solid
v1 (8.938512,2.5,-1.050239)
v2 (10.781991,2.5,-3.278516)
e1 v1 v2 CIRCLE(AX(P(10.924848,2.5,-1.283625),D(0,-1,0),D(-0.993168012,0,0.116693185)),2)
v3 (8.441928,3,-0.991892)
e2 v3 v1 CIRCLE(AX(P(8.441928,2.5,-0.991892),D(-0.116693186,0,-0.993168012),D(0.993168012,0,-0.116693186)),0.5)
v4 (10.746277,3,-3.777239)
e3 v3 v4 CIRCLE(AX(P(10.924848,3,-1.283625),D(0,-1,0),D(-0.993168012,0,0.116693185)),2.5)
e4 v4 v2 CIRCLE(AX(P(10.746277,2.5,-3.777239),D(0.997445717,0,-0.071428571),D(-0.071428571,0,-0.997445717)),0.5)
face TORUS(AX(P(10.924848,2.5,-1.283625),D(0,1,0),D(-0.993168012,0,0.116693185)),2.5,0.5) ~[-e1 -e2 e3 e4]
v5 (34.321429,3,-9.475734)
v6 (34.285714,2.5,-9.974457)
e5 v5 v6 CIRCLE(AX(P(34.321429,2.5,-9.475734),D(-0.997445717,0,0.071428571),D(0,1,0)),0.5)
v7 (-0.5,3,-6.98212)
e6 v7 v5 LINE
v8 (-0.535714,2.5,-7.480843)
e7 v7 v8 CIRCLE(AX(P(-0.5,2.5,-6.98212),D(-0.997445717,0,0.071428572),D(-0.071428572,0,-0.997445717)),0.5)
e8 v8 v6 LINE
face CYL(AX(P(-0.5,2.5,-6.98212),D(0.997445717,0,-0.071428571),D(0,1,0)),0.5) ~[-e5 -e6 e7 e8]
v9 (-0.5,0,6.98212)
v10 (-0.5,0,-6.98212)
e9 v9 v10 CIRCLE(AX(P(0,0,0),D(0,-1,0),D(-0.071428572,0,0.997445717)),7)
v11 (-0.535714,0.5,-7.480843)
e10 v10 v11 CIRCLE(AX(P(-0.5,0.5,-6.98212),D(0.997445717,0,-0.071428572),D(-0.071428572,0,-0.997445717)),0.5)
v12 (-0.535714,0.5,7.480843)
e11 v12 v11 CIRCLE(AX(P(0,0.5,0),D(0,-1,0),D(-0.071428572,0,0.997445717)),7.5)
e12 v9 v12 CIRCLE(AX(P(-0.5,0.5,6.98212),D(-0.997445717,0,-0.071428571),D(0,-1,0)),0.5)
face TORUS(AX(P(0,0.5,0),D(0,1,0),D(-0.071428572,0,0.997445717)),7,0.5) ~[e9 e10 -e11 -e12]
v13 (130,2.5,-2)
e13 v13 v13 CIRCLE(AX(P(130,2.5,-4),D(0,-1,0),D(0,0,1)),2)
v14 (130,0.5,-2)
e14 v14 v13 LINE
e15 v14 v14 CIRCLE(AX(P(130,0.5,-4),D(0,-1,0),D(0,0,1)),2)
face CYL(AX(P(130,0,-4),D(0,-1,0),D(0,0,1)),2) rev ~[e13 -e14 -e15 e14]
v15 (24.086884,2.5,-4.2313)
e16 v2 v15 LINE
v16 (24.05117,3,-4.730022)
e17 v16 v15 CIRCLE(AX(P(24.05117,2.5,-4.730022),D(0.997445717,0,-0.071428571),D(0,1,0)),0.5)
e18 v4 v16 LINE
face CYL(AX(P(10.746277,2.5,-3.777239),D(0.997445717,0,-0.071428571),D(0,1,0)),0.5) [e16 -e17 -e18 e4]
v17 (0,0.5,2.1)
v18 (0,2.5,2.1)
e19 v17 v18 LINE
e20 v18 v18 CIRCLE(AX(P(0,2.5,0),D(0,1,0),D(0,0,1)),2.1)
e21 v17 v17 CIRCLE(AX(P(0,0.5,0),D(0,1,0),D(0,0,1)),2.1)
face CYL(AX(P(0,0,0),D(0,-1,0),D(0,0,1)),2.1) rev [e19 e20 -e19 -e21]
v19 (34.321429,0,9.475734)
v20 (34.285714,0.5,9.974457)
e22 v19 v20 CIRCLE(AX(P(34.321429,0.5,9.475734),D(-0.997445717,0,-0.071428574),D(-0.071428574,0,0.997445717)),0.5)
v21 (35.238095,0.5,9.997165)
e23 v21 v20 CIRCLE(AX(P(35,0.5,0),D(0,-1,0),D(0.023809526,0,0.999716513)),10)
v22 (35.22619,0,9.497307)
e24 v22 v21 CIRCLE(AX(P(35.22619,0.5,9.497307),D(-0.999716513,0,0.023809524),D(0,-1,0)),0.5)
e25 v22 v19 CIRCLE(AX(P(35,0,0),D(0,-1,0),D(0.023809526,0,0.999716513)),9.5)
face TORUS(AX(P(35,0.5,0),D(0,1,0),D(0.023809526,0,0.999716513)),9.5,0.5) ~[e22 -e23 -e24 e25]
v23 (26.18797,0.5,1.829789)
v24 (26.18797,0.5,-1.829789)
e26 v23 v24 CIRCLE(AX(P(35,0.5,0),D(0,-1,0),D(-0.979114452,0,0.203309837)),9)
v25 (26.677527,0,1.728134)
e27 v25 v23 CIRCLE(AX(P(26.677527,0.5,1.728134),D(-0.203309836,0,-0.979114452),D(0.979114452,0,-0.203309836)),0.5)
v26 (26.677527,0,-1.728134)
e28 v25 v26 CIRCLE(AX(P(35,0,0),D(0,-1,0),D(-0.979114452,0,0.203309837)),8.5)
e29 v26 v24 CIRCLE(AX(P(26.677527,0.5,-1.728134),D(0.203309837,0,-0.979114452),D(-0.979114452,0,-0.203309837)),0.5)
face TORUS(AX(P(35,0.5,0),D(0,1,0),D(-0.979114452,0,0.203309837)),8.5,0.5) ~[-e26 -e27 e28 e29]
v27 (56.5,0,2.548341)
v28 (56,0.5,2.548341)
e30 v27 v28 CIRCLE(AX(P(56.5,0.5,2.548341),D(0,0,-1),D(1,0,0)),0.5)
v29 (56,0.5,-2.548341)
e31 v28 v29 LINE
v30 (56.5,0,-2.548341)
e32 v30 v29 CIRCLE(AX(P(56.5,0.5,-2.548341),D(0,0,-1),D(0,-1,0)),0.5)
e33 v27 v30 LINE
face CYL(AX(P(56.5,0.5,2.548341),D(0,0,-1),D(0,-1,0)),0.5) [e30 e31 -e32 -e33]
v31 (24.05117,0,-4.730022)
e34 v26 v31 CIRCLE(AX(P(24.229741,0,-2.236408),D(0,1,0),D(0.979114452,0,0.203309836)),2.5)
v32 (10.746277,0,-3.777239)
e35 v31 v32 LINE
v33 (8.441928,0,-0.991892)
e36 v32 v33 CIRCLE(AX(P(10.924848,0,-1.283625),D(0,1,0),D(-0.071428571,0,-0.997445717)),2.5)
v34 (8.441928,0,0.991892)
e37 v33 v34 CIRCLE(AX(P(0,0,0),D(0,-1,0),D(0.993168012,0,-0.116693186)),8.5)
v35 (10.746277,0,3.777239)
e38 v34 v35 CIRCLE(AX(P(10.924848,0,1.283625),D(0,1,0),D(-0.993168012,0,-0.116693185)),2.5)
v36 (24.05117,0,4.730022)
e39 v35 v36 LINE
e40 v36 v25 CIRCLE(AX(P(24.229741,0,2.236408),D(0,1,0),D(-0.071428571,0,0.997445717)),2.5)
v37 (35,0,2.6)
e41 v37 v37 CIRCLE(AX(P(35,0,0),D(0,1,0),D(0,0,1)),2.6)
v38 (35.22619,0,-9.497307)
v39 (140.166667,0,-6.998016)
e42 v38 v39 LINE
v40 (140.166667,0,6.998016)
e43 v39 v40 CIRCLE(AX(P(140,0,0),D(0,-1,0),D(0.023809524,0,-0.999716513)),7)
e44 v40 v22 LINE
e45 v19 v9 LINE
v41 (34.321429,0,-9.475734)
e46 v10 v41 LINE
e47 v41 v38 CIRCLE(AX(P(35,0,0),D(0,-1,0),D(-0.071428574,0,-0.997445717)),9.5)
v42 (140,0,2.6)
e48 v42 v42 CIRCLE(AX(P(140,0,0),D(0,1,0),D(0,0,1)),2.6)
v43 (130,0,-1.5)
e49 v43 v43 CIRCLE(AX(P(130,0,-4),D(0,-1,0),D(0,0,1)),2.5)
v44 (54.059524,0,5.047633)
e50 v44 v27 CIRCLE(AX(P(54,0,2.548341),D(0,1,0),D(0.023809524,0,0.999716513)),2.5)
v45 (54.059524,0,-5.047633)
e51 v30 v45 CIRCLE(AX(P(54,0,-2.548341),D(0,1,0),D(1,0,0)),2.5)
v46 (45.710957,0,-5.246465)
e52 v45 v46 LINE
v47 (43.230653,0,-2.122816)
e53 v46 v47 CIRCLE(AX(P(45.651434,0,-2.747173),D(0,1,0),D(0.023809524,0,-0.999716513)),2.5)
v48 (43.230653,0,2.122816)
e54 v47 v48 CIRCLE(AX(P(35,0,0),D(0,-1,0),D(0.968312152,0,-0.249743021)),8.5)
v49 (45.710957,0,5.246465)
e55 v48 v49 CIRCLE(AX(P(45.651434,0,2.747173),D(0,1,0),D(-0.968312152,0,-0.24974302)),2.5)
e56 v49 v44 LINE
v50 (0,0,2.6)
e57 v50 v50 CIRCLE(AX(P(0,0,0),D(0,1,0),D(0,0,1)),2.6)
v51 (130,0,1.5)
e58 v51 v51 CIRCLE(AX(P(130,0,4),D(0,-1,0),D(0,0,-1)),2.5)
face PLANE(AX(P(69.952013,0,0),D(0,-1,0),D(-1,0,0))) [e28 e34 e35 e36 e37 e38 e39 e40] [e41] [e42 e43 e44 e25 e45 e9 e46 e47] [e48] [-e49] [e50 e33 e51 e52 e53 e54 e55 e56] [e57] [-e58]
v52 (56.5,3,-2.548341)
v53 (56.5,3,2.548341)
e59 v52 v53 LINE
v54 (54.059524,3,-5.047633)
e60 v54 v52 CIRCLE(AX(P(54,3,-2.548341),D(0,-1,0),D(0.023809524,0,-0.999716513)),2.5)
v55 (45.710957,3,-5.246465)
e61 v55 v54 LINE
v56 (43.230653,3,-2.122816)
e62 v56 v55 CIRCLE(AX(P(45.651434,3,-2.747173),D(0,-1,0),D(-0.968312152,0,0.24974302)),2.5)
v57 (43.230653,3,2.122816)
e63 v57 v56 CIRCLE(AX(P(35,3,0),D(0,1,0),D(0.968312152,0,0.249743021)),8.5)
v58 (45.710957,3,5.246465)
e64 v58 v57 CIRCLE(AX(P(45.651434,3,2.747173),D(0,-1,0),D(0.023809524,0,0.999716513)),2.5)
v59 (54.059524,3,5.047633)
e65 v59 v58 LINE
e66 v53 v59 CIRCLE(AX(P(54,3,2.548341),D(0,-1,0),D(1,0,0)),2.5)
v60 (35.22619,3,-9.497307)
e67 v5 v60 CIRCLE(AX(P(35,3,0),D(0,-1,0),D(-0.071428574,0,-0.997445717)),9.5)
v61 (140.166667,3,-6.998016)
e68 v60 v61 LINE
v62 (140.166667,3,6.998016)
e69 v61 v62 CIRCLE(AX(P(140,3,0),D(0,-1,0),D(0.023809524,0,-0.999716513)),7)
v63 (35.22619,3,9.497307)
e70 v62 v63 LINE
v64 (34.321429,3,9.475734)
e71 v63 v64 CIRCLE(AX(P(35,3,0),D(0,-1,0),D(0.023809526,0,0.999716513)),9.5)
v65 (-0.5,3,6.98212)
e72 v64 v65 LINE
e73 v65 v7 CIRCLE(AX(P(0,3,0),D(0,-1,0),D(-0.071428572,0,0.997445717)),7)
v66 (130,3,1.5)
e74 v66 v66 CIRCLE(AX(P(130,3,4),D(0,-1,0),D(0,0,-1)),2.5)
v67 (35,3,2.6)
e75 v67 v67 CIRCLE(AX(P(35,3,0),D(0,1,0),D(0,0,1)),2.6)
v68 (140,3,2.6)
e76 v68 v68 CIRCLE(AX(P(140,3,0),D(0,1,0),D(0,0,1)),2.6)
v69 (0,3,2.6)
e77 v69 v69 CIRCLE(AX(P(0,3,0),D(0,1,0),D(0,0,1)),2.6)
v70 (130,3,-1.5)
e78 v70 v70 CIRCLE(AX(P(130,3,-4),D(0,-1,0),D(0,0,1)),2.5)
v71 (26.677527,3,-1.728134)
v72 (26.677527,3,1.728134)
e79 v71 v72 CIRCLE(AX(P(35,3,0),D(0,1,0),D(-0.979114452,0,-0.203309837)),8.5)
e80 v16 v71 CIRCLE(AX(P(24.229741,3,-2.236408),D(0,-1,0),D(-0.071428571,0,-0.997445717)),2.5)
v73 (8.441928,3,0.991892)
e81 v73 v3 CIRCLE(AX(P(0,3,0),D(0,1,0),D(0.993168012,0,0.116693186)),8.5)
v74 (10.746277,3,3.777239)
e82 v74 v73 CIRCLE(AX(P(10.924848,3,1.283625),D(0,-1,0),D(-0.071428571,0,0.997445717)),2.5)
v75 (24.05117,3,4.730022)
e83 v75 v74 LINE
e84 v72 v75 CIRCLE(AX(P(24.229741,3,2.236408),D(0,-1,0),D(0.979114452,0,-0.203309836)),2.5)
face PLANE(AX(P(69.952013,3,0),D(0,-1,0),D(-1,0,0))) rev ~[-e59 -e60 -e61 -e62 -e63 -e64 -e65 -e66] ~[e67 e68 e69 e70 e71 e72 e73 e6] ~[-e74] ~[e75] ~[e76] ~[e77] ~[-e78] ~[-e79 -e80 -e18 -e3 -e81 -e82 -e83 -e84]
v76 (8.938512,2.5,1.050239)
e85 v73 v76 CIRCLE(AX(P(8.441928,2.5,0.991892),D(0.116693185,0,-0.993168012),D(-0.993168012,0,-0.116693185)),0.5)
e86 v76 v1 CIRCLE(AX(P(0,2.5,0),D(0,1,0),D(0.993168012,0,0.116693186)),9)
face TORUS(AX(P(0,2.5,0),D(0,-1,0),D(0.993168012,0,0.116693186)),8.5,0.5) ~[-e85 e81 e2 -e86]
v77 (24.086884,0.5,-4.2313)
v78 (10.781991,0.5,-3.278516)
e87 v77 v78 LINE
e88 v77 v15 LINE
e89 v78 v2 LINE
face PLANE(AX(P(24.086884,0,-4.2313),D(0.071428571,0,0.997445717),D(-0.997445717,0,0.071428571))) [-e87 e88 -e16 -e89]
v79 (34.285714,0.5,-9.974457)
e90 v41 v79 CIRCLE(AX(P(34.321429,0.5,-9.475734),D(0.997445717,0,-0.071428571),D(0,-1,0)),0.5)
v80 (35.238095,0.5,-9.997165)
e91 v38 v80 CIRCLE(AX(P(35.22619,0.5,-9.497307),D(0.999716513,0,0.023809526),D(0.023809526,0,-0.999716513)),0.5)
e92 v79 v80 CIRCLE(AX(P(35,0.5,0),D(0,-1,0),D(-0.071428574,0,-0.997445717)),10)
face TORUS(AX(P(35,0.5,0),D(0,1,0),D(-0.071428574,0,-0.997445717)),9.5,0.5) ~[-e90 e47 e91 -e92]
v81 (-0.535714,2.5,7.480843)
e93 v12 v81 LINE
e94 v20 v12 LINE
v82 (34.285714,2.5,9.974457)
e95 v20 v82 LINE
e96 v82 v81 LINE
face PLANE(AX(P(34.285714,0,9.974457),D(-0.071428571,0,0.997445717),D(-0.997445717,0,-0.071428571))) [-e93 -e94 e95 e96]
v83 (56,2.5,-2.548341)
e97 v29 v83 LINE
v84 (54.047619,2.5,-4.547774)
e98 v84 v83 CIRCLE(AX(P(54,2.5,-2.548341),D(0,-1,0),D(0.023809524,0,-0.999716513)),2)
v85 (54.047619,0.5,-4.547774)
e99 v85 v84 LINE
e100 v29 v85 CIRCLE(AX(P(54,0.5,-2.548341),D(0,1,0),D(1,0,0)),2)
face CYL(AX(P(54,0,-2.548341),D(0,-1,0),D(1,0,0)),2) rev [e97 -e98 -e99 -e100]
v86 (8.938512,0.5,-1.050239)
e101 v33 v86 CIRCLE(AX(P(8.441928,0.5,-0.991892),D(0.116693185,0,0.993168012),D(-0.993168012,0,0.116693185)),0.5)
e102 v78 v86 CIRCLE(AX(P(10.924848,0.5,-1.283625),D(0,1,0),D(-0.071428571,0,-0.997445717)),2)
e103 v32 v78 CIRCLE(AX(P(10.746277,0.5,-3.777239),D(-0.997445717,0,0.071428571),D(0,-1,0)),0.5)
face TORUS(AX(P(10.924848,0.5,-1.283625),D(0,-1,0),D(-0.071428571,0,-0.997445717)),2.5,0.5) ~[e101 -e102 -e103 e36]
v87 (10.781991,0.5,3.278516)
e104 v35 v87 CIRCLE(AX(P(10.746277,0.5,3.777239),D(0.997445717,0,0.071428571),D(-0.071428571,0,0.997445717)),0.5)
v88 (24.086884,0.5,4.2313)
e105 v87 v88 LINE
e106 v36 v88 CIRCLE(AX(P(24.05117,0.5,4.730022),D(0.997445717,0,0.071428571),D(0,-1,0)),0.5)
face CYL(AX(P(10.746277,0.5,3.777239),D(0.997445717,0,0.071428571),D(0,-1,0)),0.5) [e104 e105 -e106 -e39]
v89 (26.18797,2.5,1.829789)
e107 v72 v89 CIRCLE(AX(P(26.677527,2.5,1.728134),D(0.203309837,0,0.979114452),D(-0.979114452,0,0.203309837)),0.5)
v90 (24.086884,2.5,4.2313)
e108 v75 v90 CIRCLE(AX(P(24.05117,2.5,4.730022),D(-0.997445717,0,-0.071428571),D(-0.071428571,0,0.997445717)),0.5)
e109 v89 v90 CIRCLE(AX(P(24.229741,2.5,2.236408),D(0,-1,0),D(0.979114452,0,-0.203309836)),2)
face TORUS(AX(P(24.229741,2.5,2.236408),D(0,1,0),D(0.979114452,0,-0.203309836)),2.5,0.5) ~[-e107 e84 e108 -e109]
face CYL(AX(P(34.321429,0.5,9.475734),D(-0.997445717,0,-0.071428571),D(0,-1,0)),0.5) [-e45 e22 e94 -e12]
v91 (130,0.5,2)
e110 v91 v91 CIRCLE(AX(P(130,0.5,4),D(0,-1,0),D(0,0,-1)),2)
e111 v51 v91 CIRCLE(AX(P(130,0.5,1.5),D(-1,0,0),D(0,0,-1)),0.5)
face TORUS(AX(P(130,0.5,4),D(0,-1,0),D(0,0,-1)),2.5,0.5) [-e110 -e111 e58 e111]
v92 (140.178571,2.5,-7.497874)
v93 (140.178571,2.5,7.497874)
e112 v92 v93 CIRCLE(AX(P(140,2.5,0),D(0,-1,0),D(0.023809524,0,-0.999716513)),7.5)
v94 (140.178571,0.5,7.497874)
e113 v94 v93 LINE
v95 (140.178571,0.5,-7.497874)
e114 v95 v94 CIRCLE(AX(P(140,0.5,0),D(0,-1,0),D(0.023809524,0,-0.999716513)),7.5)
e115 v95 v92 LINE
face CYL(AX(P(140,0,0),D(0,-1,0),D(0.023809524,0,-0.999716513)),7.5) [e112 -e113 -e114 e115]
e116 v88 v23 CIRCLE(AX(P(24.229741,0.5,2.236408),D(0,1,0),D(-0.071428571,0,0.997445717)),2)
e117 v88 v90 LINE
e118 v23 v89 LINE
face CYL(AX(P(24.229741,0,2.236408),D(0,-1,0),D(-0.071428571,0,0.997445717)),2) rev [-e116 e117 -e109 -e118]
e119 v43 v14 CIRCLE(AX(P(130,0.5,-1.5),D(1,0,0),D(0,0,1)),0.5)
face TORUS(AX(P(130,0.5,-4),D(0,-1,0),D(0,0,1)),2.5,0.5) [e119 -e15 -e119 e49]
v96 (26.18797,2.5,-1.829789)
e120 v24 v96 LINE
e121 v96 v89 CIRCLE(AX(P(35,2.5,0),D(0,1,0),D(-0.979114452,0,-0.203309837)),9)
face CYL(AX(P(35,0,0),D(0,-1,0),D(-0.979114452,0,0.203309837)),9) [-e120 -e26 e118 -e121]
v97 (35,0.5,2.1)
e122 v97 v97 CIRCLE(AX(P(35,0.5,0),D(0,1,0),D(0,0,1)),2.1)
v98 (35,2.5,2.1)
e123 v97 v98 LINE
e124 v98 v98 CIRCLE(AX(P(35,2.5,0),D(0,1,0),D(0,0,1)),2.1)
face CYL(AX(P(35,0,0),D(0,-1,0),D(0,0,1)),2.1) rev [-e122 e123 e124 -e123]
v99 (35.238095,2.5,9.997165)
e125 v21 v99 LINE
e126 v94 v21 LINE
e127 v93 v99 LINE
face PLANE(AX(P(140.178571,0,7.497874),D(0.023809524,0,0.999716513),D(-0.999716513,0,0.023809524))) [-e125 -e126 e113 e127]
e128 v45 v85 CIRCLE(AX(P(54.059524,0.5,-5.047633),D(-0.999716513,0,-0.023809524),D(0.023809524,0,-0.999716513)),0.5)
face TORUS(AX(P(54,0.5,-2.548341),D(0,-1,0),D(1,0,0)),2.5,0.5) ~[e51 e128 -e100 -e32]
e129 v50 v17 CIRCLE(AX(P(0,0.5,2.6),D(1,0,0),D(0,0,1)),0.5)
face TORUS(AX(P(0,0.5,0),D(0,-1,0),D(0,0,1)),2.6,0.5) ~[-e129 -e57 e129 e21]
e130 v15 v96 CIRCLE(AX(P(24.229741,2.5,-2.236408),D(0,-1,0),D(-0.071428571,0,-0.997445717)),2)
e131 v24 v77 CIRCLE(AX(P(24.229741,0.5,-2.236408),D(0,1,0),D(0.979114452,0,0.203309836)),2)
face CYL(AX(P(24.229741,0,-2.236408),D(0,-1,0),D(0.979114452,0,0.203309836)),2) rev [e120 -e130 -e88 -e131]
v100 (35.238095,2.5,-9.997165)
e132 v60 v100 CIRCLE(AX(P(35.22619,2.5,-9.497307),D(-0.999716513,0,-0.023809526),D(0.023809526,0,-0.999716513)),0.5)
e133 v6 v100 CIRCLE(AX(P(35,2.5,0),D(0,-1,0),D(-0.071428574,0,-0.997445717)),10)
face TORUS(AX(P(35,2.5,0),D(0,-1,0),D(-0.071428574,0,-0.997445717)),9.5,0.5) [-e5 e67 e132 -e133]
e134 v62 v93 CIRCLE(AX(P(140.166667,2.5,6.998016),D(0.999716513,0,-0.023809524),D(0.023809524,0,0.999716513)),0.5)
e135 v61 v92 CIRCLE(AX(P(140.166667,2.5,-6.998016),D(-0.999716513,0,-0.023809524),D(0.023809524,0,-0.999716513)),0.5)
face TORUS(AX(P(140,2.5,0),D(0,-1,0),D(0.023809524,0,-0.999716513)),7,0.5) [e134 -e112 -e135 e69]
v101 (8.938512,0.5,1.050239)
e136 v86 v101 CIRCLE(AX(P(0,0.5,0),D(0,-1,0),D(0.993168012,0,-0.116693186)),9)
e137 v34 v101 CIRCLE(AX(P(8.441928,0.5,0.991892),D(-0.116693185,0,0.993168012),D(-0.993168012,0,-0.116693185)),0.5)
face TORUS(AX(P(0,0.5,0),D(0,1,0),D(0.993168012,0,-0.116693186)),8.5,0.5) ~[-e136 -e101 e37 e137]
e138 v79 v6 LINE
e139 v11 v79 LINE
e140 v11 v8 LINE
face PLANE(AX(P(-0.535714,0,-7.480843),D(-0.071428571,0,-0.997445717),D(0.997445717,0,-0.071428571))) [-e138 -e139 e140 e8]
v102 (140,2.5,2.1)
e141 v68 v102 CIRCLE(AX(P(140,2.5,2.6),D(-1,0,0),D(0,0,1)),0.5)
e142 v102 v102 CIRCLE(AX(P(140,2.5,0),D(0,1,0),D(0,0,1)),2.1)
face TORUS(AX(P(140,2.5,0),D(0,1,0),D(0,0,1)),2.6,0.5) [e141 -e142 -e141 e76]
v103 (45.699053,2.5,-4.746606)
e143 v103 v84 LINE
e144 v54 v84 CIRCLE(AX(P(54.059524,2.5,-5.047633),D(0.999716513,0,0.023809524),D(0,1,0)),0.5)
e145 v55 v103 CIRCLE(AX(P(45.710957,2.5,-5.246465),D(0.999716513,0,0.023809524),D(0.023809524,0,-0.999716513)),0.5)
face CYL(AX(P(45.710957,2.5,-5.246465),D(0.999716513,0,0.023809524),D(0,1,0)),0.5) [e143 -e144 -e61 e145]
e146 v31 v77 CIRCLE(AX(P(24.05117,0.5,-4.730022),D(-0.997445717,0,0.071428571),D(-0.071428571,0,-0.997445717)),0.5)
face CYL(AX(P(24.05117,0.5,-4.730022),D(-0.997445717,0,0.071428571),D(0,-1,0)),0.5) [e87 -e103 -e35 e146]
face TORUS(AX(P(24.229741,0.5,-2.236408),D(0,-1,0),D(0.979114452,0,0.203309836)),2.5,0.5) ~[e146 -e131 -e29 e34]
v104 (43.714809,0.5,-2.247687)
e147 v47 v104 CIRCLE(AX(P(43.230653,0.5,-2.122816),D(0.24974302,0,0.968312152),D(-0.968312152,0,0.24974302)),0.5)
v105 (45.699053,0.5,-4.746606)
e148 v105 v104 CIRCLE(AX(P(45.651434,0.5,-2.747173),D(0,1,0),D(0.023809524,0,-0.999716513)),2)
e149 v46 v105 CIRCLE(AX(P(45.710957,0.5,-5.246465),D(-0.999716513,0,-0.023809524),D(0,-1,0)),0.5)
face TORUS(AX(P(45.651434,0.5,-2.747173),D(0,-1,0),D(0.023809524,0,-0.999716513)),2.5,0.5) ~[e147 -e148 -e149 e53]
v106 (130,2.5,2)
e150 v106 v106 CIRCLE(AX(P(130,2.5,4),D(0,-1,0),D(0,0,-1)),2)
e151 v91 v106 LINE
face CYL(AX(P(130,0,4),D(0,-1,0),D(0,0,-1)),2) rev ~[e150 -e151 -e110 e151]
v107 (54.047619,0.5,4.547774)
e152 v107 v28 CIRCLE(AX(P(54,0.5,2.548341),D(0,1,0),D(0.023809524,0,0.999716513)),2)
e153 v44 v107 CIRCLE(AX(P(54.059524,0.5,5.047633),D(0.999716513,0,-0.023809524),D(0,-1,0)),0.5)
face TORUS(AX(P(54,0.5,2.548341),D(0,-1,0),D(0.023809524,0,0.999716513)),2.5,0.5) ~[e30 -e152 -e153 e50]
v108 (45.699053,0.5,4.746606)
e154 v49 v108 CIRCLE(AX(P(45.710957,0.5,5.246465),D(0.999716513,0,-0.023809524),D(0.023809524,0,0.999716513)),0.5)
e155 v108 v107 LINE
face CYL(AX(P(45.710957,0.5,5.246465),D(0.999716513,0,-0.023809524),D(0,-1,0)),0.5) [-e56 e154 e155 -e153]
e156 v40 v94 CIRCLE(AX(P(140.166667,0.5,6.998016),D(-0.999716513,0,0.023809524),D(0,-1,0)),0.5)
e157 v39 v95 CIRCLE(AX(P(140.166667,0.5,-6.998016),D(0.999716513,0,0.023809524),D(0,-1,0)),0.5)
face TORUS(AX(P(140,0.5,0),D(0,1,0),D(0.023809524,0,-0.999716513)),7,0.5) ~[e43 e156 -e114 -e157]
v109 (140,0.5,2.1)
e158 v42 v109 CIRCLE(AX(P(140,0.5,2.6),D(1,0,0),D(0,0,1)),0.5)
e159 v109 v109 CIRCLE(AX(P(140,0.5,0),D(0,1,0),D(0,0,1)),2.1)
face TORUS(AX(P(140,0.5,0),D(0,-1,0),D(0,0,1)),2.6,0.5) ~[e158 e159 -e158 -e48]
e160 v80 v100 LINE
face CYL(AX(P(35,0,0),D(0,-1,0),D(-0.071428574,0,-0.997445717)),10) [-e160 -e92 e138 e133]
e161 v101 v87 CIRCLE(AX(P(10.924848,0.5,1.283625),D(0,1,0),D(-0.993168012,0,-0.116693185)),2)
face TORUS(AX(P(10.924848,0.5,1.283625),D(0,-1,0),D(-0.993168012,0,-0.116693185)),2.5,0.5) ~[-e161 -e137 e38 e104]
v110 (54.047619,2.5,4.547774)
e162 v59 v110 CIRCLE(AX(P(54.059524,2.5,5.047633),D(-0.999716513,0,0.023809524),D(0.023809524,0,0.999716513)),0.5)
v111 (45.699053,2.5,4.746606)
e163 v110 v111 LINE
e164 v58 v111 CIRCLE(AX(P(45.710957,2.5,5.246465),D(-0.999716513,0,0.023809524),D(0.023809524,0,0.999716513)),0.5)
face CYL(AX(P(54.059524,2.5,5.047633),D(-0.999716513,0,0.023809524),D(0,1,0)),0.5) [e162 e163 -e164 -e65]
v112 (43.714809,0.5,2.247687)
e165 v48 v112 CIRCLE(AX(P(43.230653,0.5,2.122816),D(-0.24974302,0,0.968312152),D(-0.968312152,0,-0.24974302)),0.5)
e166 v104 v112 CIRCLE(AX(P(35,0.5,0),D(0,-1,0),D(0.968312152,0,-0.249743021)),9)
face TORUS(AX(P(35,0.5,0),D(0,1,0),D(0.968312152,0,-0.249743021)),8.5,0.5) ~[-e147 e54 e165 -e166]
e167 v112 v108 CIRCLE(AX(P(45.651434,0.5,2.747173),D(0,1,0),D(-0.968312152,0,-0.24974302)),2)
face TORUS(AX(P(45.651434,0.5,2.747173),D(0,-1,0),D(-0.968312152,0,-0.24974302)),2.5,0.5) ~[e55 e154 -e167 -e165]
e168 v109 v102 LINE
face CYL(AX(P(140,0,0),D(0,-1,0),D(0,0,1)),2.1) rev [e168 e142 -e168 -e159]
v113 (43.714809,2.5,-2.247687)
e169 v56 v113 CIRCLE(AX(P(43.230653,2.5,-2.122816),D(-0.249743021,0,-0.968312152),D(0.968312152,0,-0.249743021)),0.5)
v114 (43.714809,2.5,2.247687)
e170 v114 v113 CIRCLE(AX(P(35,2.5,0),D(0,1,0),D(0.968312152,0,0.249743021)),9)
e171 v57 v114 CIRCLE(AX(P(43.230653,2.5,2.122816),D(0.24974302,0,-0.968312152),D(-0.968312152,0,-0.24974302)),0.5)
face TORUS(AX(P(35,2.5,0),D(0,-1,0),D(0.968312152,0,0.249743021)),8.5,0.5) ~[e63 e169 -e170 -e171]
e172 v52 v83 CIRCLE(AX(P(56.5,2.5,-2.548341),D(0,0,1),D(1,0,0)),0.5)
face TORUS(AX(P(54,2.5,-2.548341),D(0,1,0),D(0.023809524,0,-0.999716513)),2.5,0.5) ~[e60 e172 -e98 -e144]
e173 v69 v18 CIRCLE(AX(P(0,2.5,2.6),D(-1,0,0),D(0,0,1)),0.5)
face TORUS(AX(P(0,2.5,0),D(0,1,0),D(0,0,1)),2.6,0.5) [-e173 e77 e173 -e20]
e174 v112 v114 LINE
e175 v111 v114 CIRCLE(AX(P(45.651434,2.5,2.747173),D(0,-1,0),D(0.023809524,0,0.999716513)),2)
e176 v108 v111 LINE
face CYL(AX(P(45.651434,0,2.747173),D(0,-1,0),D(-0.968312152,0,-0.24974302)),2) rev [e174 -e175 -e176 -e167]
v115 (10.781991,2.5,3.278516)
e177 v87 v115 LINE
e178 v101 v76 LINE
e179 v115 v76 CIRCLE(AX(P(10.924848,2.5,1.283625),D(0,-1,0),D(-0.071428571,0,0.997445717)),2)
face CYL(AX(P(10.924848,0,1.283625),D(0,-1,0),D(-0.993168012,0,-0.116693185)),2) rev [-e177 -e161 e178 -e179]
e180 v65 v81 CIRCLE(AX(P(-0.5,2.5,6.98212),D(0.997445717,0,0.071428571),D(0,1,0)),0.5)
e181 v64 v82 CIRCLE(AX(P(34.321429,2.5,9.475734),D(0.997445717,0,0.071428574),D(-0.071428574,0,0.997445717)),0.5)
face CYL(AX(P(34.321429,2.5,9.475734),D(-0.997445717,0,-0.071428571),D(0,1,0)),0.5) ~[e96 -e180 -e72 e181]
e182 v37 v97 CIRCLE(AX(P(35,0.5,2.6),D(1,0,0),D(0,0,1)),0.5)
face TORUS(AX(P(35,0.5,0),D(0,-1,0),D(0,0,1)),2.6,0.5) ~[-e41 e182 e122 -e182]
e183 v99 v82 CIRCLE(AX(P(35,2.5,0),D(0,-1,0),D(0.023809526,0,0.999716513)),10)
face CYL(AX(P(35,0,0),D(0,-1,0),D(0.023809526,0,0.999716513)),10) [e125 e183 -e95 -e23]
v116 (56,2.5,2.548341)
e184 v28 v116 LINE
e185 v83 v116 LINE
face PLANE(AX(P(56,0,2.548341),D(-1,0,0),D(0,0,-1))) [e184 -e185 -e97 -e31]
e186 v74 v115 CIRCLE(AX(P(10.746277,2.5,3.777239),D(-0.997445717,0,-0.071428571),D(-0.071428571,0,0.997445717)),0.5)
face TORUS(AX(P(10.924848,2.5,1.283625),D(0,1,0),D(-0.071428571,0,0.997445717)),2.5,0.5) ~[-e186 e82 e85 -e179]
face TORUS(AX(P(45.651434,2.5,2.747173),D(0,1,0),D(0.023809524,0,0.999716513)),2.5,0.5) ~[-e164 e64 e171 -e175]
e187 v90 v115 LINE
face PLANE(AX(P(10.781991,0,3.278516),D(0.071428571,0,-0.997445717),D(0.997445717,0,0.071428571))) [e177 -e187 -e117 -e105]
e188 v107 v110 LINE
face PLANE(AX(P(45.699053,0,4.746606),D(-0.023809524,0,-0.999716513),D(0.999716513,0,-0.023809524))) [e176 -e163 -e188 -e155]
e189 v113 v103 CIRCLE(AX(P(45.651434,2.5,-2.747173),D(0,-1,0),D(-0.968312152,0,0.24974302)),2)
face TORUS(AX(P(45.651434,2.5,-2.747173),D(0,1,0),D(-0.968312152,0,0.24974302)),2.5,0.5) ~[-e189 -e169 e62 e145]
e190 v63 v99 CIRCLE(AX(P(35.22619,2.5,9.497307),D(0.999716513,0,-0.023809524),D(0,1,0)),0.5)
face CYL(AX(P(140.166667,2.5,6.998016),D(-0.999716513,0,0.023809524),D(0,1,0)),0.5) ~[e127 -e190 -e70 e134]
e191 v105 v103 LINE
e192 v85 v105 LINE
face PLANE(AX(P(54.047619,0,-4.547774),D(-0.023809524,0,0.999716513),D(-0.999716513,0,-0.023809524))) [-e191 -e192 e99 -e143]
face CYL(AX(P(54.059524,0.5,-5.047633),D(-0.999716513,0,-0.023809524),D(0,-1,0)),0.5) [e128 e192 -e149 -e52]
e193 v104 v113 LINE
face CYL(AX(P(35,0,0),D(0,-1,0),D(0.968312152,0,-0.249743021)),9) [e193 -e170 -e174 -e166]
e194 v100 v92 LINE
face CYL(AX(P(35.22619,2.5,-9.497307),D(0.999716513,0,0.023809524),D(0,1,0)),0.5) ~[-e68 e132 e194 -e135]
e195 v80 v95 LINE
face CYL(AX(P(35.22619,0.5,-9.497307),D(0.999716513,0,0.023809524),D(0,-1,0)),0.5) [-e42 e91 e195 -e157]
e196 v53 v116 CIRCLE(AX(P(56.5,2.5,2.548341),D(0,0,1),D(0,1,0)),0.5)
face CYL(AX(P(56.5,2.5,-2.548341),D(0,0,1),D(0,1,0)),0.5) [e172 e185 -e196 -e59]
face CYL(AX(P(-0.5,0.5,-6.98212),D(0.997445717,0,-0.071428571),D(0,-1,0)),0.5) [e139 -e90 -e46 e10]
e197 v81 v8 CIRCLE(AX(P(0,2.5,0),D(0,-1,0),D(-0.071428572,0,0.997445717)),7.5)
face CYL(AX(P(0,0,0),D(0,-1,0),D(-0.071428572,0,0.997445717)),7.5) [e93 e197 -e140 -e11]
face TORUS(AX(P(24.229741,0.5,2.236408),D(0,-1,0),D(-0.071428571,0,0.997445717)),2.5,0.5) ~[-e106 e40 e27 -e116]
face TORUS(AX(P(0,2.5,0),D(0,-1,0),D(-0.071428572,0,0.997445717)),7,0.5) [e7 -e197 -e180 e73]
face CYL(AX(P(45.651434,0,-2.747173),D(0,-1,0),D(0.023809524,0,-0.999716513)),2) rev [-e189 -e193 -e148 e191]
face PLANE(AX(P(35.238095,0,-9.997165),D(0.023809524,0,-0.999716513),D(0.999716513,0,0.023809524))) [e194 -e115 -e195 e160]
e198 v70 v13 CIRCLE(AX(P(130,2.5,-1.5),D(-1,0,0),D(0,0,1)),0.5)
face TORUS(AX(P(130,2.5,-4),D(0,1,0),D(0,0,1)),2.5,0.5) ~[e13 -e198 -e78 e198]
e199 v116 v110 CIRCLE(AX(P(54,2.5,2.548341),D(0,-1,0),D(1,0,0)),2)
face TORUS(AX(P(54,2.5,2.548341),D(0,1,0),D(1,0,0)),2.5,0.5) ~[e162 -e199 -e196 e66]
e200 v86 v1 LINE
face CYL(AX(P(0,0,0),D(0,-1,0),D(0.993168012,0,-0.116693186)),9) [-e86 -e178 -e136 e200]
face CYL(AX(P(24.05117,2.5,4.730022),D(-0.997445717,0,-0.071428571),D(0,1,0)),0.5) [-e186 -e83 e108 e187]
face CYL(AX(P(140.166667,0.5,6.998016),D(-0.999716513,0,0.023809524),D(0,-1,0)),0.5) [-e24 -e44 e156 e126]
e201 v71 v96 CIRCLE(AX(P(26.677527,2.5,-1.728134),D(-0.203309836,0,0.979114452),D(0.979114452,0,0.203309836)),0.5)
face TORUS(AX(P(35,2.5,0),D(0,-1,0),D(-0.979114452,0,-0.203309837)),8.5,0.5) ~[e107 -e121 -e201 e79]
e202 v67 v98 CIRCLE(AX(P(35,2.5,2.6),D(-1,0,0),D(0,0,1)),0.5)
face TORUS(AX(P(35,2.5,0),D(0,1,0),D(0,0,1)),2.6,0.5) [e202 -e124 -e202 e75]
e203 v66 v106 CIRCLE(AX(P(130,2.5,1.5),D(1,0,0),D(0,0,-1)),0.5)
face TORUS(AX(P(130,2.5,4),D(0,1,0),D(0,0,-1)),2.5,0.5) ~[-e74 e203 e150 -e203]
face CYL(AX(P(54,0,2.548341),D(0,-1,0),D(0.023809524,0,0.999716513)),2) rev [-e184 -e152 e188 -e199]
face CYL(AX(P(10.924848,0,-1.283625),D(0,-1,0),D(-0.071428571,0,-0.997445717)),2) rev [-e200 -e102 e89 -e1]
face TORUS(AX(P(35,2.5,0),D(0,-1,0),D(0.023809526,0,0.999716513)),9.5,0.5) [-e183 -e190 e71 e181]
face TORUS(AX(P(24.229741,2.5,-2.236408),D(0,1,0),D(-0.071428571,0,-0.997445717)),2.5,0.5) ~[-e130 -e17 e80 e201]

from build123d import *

# Parameters (mm, degrees)
SKETCH1_R           = 2.1
BOSS_EXTRUDE1_DEPTH = 3
CUT_EXTRUDE1_DEPTH  = 6
SKETCH5_R           = 2
CUT_EXTRUDE2_DEPTH  = 148.869029888
FILLET1_R           = 0.5


with BuildPart() as part:
    # Sketch1 → Boss-Extrude1 (new body)
    with BuildSketch(Plane(origin=(0, 0, 0), x_dir=(1, 0, 0), z_dir=(0, 1, 0))):
        with BuildLine():
            Line((-0.535714286, 7.480842881), (34.285714286, 9.974457174))
            ThreePointArc((34.285714286, 9.974457174), (34.761634199, 9.997158684), (35.238095238, 9.997165131))
            Line((35.238095238, 9.997165131), (140.178571429, 7.497873848))
            ThreePointArc((140.178571429, 7.497873848), (147.5, 0), (140.178571429, -7.497873848))
            Line((140.178571429, -7.497873848), (35.238095238, -9.997165131))
            ThreePointArc((35.238095238, -9.997165131), (34.761634199, -9.997158684), (34.285714286, -9.974457174))
            Line((34.285714286, -9.974457174), (-0.535714286, -7.480842881))
            ThreePointArc((-0.535714286, -7.480842881), (-7.5, 0), (-0.535714286, 7.480842881))
        make_face()
        with Locations(Location((0, 0, 0), (0, 0, 270))):
            Circle(SKETCH1_R, mode=Mode.SUBTRACT)
        with Locations(Location((35, 0, 0), (0, 0, 270))):
            Circle(SKETCH1_R, mode=Mode.SUBTRACT)
        with Locations(Location((140, 0, 0), (0, 0, 270))):
            Circle(SKETCH1_R, mode=Mode.SUBTRACT)
    extrude(amount=BOSS_EXTRUDE1_DEPTH)

    # Sketch3 → Cut-Extrude1 (cut)
    with BuildSketch(Plane.XZ):
        with BuildLine():
            Line((10.781990992, 3.278516471), (24.086883885, 4.231299641))
            ThreePointArc((24.086883885, 4.231299641), (25.734967774, 3.55333358), (26.187969932, 1.829788532))
            ThreePointArc((26.187969932, 1.829788532), (26, 0), (26.187969932, -1.829788532))
            ThreePointArc((26.187969932, -1.829788532), (25.734967774, -3.55333358), (24.086883885, -4.231299641))
            Line((24.086883885, -4.231299641), (10.781990992, -3.278516471))
            ThreePointArc((10.781990992, -3.278516471), (9.383851256, -2.558508804), (8.93851211, -1.050238666))
            ThreePointArc((8.93851211, -1.050238666), (9, 0), (8.93851211, 1.050238666))
            ThreePointArc((8.93851211, 1.050238666), (9.383851256, 2.558508804), (10.781990992, 3.278516471))
        make_face()
        with BuildLine():
            Line((45.69905272, 4.74660625), (54.047619048, 4.547774495))
            ThreePointArc((54.047619048, 4.547774495), (55.4309504, 3.945617731), (56, 2.548341469))
            Line((56, 2.548341469), (56, -2.548341469))
            ThreePointArc((56, -2.548341469), (55.4309504, -3.945617731), (54.047619048, -4.547774495))
            Line((54.047619048, -4.547774495), (45.69905272, -4.74660625))
            ThreePointArc((45.69905272, -4.74660625), (44.085153257, -3.990863563), (43.714809368, -2.247687183))
            ThreePointArc((43.714809368, -2.247687183), (44, 0), (43.714809368, 2.247687183))
            ThreePointArc((43.714809368, 2.247687183), (44.085153257, 3.990863563), (45.69905272, 4.74660625))
        make_face()
    extrude(amount=-CUT_EXTRUDE1_DEPTH, mode=Mode.SUBTRACT)

    # Sketch5 → Cut-Extrude2 (cut, through all)
    with BuildSketch(Plane.XZ):
        with Locations(Location((130, 4, 0), (0, 0, 270))):
            Circle(SKETCH5_R)
        with Locations(Location((130, -4, 0), (0, 0, 90))):
            Circle(SKETCH5_R)
    extrude(amount=-CUT_EXTRUDE2_DEPTH, mode=Mode.SUBTRACT)

    # Fillet1
    fillet1_edges = [part.edges().sort_by_distance(p)[0] for p in [
        (147.5, 3, 0),
        (87.708333333, 0, 8.74751949),
        (34.761634199, 0, 9.997158684),
        (130, 3, 6),
        (130, 0, 6),
        (130, 3, -6),
        (130, 0, -6),
        (87.708333333, 3, -8.74751949),
        (34.761634199, 3, -9.997158684),
        (16.875, 3, -8.727650027),
        (0, 0, -2.1),
        (0, 3, -2.1),
        (-7.5, 3, 0),
        (35, 0, -2.1),
        (35, 3, -2.1),
        (16.875, 3, 8.727650027),
        (140, 0, -2.1),
        (140, 3, -2.1),
        (34.761634199, 3, 9.997158684),
        (9.383851256, 3, 2.558508804),
        (17.434437438, 3, 3.754908056),
        (25.734967774, 3, 3.55333358),
        (26, 3, 0),
        (25.734967774, 3, -3.55333358),
        (17.434437438, 3, -3.754908056),
        (9.383851256, 3, -2.558508804),
        (9, 3, 0),
        (9.383851256, 0, 2.558508804),
        (9, 0, 0),
        (9.383851256, 0, -2.558508804),
        (17.434437438, 0, -3.754908056),
        (25.734967774, 0, -3.55333358),
        (26, 0, 0),
        (25.734967774, 0, 3.55333358),
        (17.434437438, 0, 3.754908056),
        (87.708333333, 3, 8.74751949),
        (44.085153257, 3, 3.990863563),
        (49.873335884, 3, 4.647190373),
        (55.4309504, 3, 3.945617731),
        (56, 3, 0),
        (55.4309504, 3, -3.945617731),
        (16.875, 0, 8.727650027),
        (49.873335884, 3, -4.647190373),
        (44.085153257, 3, -3.990863563),
        (44, 3, 0),
        (44.085153257, 0, 3.990863563),
        (44, 0, 0),
        (44.085153257, 0, -3.990863563),
        (49.873335884, 0, -4.647190373),
        (55.4309504, 0, -3.945617731),
        (56, 0, 0),
        (-7.5, 0, 0),
        (55.4309504, 0, 3.945617731),
        (49.873335884, 0, 4.647190373),
        (16.875, 0, -8.727650027),
        (34.761634199, 0, -9.997158684),
        (87.708333333, 0, -8.74751949),
        (147.5, 0, 0),
    ]]
    fillet(fillet1_edges, radius=FILLET1_R)


solid = part.part
